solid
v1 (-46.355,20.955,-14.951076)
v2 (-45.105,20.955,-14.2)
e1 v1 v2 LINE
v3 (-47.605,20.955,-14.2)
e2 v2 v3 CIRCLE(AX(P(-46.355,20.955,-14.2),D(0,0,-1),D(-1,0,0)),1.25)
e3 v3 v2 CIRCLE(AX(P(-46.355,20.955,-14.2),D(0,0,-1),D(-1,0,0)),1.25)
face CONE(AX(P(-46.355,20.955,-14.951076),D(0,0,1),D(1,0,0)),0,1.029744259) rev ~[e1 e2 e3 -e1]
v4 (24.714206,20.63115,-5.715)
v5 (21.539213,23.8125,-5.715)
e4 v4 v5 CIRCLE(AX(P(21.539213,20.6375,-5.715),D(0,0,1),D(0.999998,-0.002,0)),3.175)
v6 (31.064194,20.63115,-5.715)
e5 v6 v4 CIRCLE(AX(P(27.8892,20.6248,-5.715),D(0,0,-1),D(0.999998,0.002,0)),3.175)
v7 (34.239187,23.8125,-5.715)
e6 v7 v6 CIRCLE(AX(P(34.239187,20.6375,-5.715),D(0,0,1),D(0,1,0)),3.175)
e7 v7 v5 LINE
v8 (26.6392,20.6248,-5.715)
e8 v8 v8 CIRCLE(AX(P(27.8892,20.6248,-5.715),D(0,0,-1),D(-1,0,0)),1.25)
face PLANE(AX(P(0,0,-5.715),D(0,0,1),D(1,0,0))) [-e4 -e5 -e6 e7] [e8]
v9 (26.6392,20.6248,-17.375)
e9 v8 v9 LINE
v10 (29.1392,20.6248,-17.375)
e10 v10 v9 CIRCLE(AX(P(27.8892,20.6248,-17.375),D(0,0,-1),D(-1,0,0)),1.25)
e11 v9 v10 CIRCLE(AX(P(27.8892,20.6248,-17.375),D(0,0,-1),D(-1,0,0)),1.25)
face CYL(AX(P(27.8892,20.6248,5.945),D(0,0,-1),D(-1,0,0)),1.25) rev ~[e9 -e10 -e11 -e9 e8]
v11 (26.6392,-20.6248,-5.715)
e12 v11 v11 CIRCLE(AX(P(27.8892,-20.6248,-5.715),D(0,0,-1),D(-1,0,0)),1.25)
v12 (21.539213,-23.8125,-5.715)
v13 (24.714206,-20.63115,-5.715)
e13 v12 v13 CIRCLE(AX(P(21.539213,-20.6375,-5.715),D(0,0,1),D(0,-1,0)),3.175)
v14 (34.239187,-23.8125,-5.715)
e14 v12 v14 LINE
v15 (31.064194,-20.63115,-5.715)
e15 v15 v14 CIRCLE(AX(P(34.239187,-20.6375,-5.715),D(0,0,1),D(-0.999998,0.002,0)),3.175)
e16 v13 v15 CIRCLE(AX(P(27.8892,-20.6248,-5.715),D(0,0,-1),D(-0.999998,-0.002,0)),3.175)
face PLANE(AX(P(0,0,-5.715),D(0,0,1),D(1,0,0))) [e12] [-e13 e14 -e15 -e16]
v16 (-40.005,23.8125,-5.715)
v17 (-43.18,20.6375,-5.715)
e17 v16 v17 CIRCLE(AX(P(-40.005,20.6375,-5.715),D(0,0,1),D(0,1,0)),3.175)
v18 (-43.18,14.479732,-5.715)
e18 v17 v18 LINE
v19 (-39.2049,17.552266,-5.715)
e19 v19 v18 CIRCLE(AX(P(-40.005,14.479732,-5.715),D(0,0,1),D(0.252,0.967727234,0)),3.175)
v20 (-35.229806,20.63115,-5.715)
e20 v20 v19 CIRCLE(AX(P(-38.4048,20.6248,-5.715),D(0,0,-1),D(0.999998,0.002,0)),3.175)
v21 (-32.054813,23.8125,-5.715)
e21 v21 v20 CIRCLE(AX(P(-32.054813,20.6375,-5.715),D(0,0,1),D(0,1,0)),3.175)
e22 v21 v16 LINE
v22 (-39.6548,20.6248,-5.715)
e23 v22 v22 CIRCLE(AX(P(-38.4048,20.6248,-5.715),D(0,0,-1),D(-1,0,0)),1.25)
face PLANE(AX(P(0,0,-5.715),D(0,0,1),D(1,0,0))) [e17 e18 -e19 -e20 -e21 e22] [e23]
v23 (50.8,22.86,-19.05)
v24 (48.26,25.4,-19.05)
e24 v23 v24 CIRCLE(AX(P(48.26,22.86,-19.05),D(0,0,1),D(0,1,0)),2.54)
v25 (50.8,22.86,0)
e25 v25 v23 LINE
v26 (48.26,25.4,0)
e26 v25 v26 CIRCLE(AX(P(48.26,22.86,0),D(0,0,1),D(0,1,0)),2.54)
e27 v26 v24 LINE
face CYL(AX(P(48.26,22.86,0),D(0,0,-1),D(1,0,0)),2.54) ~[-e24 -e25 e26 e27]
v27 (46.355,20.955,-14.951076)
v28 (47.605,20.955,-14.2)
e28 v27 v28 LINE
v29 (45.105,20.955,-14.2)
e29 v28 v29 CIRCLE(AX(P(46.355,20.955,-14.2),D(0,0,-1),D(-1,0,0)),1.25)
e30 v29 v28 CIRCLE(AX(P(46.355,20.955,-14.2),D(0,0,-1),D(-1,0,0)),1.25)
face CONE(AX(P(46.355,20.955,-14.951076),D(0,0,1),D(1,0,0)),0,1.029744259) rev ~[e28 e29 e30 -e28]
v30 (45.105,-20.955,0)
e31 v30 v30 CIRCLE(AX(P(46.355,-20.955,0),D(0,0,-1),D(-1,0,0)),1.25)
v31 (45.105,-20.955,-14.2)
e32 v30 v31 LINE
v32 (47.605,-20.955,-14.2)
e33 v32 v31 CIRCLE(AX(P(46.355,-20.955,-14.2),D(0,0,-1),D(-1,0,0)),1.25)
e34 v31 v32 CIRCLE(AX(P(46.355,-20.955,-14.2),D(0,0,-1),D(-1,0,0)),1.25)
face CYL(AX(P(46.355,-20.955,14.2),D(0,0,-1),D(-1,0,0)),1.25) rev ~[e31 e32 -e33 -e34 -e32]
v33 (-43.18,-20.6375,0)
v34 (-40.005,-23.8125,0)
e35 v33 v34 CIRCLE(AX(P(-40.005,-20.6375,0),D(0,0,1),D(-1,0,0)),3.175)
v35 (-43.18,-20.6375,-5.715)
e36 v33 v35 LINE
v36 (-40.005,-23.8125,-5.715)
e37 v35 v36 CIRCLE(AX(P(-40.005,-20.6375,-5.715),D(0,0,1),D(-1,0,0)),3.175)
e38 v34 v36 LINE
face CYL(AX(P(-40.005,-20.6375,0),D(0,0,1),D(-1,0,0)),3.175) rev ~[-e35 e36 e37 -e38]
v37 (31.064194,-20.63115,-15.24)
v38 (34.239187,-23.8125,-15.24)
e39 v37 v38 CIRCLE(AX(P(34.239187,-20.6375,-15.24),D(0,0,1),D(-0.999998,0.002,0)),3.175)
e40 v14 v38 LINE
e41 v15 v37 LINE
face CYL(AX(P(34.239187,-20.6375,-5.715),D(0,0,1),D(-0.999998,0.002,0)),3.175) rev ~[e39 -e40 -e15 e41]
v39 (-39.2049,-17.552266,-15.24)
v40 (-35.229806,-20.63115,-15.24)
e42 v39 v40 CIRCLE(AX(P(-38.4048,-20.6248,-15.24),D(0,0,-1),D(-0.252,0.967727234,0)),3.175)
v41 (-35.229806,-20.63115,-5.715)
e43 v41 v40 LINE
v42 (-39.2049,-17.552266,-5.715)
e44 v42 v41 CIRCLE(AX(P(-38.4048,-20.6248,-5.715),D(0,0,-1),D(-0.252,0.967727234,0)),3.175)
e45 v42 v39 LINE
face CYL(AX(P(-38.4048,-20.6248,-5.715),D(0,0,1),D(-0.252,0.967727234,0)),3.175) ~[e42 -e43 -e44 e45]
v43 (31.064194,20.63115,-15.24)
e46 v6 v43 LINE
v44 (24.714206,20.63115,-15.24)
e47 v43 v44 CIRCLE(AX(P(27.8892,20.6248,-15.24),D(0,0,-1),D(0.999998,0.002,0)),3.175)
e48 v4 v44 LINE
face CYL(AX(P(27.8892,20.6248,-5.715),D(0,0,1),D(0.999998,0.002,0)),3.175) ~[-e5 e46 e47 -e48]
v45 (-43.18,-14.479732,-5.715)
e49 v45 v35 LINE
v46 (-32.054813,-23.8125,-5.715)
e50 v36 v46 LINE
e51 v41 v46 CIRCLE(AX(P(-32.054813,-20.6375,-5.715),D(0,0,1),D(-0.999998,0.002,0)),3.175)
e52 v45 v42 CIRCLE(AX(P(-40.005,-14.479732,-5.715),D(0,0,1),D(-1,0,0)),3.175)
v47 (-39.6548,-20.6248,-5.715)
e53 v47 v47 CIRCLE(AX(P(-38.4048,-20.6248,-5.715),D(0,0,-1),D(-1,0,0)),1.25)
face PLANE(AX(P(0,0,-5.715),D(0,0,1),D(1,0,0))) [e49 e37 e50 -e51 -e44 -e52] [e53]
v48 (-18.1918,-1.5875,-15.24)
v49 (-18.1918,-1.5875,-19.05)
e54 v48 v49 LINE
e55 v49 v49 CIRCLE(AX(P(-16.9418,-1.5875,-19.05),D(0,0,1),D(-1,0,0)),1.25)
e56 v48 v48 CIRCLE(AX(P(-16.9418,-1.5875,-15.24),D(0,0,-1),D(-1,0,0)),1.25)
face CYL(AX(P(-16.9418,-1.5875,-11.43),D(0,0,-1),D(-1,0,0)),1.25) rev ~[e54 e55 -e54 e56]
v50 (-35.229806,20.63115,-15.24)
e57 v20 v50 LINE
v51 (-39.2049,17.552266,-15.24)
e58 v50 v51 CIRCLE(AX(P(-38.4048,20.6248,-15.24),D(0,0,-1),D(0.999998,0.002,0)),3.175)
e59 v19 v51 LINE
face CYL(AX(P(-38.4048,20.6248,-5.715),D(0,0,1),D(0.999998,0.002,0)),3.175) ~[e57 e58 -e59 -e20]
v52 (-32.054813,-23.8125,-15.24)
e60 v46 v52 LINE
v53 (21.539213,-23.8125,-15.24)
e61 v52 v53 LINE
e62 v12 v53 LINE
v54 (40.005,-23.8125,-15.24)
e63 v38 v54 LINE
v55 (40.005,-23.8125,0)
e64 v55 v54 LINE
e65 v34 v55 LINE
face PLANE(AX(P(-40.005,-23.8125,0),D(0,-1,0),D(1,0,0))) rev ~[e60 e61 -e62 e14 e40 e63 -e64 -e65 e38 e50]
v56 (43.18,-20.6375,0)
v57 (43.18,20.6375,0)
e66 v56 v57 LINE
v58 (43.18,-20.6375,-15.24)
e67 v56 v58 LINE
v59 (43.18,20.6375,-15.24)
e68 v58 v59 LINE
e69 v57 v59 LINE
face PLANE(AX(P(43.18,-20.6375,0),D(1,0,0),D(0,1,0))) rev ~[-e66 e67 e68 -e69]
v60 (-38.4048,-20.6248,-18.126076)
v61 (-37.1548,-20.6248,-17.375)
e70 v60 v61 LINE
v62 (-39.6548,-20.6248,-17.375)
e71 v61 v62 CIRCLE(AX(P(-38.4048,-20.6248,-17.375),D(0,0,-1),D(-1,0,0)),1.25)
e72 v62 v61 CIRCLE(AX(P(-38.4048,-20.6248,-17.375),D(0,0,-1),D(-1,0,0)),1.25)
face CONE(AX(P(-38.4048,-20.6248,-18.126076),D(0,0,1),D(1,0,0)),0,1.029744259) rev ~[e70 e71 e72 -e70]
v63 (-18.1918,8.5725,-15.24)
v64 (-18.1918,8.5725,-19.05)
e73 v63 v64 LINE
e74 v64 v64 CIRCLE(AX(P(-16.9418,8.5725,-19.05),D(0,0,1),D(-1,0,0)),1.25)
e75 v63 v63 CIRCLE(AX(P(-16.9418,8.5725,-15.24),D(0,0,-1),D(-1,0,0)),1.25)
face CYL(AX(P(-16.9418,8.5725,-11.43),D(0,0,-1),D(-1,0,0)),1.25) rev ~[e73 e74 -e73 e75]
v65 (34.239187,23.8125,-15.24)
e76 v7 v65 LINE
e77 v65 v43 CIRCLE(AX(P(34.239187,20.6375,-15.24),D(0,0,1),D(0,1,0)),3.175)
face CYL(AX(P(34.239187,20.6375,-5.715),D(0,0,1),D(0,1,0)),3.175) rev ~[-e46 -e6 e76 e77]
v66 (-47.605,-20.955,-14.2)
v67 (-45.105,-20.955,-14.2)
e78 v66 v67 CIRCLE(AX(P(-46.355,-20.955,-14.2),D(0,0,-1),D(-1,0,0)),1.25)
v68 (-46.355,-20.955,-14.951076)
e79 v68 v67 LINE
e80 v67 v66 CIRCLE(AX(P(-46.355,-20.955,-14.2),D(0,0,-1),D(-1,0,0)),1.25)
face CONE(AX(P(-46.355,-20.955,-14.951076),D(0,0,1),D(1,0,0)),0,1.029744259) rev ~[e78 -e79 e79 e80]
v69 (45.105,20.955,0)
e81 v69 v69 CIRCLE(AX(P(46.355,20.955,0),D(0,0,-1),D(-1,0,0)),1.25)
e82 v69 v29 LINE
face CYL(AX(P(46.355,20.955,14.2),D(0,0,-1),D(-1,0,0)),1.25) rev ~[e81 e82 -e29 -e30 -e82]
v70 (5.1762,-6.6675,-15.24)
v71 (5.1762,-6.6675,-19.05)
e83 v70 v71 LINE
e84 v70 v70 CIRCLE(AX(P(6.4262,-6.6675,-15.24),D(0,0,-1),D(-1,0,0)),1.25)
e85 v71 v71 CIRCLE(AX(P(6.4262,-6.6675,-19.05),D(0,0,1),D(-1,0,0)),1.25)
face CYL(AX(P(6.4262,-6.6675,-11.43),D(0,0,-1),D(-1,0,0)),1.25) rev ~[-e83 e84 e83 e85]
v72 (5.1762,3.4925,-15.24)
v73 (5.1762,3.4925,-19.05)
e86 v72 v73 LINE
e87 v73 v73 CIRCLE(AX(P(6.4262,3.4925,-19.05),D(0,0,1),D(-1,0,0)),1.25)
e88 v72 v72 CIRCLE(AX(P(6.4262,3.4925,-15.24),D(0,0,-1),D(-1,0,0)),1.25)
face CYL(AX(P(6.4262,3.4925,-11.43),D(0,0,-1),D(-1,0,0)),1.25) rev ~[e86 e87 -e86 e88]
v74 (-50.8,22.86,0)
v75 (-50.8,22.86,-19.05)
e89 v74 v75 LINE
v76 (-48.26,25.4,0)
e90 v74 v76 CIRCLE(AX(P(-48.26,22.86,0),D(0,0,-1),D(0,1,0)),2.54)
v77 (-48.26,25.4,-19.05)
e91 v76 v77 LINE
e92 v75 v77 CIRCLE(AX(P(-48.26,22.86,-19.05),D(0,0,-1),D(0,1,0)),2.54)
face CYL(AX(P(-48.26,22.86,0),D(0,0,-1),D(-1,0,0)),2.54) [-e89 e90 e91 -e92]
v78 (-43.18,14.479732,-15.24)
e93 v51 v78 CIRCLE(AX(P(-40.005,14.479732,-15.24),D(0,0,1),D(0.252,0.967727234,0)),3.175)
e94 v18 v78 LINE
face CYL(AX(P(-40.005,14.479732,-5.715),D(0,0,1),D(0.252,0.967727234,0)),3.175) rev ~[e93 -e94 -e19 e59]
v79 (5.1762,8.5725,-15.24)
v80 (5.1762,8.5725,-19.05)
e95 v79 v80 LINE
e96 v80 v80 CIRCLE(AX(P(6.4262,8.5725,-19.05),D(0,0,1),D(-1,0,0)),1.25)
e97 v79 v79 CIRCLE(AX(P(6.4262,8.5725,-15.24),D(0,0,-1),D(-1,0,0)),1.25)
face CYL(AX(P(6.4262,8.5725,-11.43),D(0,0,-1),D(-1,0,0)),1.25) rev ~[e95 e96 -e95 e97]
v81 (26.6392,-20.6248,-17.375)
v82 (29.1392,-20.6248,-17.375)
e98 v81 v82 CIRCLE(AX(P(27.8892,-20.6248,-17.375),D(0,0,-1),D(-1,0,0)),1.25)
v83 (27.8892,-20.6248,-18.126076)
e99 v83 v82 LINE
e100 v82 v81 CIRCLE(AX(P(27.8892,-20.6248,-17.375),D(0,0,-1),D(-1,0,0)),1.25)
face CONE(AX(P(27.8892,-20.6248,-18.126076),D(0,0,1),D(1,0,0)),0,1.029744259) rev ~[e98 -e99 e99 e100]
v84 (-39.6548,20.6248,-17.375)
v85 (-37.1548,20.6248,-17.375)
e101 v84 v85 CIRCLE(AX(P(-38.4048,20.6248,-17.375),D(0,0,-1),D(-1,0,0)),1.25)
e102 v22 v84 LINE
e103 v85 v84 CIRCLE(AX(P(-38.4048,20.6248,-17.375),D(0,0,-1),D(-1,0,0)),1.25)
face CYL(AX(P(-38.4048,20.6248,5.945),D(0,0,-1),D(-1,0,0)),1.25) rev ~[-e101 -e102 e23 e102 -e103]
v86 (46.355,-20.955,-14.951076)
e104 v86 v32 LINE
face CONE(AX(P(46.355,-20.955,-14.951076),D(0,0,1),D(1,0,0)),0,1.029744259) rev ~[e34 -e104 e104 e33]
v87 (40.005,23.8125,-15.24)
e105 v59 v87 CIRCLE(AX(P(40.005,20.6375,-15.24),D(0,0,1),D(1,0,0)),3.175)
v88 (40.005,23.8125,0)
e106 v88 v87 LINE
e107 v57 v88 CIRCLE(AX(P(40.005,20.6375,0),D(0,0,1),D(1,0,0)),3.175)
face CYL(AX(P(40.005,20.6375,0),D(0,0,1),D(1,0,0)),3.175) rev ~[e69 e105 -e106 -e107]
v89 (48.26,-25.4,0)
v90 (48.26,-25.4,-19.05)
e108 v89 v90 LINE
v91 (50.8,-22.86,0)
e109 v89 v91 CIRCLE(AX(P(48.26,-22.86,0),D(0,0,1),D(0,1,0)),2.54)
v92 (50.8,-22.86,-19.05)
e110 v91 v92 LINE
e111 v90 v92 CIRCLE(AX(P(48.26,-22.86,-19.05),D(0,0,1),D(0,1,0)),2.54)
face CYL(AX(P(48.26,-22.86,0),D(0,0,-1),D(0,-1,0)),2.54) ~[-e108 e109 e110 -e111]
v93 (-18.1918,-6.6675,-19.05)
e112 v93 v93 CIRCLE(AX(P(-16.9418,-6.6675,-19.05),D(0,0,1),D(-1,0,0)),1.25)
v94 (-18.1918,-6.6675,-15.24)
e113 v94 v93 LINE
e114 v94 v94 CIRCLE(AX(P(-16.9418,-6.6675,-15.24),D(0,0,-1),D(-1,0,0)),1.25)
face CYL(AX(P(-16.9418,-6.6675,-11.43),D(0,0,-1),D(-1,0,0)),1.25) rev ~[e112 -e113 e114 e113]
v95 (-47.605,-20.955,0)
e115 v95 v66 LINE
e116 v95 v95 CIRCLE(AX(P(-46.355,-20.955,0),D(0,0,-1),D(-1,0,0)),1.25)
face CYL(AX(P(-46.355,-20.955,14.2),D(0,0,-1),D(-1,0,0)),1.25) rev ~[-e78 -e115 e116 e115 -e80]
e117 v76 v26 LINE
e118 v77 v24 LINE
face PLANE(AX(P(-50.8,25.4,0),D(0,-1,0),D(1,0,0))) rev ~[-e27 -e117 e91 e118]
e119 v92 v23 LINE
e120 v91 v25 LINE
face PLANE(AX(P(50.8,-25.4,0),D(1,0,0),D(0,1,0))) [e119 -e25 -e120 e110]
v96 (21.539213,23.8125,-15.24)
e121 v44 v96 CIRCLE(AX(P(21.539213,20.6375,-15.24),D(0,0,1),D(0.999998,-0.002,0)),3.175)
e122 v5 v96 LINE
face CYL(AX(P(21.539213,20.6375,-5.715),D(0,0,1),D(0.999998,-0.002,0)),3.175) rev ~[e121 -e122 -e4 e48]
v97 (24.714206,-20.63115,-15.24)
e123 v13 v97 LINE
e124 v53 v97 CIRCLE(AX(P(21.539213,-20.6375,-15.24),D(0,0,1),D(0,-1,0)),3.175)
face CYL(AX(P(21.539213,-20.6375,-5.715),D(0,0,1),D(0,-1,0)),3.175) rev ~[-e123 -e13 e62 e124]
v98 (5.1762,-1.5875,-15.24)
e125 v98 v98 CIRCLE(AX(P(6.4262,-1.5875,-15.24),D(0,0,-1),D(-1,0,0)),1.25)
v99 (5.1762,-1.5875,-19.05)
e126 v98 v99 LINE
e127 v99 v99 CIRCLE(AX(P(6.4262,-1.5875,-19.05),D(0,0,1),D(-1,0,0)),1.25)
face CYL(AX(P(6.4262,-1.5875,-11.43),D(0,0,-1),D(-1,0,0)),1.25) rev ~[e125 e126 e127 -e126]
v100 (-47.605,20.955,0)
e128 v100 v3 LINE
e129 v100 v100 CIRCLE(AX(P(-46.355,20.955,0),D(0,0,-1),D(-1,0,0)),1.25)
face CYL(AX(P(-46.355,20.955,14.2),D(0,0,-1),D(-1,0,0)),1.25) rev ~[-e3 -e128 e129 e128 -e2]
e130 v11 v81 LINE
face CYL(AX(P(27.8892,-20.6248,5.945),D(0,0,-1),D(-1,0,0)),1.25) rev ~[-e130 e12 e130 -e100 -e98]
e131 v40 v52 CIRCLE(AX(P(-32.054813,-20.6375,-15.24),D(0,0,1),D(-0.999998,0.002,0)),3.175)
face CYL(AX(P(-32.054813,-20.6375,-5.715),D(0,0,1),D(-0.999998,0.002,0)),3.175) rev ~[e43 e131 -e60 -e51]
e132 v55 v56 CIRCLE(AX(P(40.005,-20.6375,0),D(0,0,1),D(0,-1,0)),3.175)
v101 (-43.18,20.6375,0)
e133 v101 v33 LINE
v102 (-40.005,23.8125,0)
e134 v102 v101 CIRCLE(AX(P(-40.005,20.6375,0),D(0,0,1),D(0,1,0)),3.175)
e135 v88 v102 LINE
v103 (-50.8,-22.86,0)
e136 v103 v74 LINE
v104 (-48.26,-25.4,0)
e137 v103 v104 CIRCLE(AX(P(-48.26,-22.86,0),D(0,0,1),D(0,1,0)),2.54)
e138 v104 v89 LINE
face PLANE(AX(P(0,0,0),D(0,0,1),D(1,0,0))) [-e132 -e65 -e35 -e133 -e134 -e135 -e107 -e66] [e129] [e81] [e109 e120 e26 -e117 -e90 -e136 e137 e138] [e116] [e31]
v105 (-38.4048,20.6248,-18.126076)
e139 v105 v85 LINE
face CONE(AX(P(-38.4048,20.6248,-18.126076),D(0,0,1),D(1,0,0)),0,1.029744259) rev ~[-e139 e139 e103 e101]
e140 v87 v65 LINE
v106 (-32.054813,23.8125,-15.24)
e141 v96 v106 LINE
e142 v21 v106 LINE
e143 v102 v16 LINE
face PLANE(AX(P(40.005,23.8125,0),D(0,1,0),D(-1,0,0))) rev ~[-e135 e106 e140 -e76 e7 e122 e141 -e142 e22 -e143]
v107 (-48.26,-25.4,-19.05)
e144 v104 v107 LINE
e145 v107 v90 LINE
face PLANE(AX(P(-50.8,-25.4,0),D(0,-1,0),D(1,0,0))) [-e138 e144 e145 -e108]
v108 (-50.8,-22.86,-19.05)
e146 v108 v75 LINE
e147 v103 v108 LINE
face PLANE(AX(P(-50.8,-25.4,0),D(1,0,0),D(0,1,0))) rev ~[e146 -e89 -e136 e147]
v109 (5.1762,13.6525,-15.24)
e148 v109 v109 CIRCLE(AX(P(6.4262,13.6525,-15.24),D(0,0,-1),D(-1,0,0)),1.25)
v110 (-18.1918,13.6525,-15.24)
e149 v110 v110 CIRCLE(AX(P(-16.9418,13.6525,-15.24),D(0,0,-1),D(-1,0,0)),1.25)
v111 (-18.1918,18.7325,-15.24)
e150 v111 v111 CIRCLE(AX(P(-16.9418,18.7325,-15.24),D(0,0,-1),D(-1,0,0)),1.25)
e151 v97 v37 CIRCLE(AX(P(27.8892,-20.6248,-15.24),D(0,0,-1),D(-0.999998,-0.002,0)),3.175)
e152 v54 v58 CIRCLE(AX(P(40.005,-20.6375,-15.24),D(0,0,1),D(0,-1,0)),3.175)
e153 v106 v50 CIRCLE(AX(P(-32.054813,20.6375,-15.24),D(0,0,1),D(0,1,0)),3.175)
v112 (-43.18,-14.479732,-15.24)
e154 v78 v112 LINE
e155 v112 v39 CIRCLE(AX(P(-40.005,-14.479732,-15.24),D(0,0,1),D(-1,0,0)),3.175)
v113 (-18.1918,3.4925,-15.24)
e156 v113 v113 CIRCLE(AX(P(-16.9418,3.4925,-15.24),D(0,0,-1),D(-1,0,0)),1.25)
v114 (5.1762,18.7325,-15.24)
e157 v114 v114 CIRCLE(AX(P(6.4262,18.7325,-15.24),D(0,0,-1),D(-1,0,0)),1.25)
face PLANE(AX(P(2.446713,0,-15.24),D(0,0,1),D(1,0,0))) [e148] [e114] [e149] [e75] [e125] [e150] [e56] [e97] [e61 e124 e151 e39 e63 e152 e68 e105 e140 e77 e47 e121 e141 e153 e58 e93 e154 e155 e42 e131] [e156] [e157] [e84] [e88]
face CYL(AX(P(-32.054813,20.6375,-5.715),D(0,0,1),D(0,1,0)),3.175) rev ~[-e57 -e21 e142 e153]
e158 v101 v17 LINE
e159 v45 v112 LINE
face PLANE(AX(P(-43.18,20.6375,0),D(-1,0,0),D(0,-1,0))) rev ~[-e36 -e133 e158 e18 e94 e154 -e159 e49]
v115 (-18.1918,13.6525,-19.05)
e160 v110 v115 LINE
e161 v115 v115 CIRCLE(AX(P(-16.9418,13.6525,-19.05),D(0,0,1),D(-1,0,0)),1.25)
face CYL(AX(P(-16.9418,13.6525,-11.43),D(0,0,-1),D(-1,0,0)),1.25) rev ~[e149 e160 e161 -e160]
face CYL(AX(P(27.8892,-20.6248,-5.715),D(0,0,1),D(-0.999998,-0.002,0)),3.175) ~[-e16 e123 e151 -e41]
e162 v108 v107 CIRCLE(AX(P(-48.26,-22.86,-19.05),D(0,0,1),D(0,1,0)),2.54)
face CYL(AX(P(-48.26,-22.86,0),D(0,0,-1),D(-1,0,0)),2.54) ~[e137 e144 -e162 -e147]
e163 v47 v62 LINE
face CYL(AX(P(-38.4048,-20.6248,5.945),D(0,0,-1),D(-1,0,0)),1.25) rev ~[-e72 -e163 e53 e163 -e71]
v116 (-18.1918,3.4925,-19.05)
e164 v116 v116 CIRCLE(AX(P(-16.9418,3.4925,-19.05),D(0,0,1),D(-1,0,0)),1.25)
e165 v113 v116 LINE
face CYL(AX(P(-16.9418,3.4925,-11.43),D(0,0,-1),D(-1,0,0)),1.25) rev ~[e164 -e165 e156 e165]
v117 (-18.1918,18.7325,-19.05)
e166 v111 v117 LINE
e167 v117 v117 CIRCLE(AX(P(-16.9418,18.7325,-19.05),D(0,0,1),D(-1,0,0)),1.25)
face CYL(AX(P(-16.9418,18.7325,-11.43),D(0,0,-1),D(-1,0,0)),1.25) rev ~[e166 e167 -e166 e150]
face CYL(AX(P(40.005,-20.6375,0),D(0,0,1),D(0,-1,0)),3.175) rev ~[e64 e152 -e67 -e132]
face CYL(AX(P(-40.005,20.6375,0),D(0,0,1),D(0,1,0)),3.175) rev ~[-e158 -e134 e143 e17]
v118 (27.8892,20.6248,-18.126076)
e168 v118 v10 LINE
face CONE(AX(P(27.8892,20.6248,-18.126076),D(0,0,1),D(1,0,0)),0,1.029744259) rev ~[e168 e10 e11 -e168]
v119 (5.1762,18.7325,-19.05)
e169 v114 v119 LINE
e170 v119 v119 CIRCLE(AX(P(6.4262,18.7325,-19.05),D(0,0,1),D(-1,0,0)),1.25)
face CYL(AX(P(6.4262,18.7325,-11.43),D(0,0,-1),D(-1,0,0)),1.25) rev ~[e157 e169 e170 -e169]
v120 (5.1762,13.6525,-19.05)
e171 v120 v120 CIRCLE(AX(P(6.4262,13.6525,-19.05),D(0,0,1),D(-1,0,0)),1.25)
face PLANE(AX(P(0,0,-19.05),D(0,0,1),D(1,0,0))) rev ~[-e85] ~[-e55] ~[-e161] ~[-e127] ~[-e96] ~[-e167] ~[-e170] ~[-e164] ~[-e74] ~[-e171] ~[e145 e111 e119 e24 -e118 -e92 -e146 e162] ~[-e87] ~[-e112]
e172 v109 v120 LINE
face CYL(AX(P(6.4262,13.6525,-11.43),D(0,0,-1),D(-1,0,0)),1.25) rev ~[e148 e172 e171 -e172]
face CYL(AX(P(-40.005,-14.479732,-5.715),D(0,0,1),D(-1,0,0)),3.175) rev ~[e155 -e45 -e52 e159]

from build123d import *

# Parameters (mm, degrees)
F0_W      = 101.6
F0_H      = 50.8
F1_DEPTH  = 19.05
F2_R      = 2.54
F4_D      = 2.5
F4_DEPTH  = 14.2
F4_TIP    = 0.7510757738
F6_DEPTH  = 5.715
F8_D      = 2.5
F8_DEPTH  = 11.66
F8_TIP    = 0.7510757738
F10_DEPTH = 9.525
F12_D     = 2.5
F12_DEPTH = 3.81
F12_TIP   = 0.7510757738


with BuildPart() as f1:
    # F0 (on Top) → F1 (new body)
    with BuildSketch(Plane.XY):
        Rectangle(F0_W, F0_H)
    extrude(amount=-F1_DEPTH)

    # F2
    f2_edges = [f1.edges().sort_by_distance(p)[0] for p in [
        (-50.8, -25.4, -9.525),
        (50.8, -25.4, -9.525),
        (50.8, 25.4, -9.525),
        (-50.8, 25.4, -9.525),
    ]]
    fillet(f2_edges, radius=F2_R)

    # F4
    with Locations(Plane.XY):
        with Locations((-46.355, 20.955), (46.355, 20.955), (46.355, -20.955), (-46.355, -20.955)):
            Hole(F4_D / 2, depth=F4_DEPTH)
            with Locations((0, 0, -(F4_DEPTH + F4_TIP / 2))):  # 118° drill point
                Cone(0, F4_D / 2, F4_TIP, mode=Mode.SUBTRACT)

    # F5 (on face) → F6 (cut)
    with BuildSketch(Plane.XY):
        with BuildLine():
            Line((-40.005, -23.8125), (40.005, -23.8125))
            ThreePointArc((40.005, -23.8125), (42.2500640303, -22.8825640303), (43.18, -20.6375))
            Line((43.18, -20.6375), (43.18, 20.6375))
            ThreePointArc((43.18, 20.6375), (42.2500640303, 22.8825640303), (40.005, 23.8125))
            Line((40.005, 23.8125), (-40.005, 23.8125))
            ThreePointArc((-40.005, 23.8125), (-42.2500640303, 22.8825640303), (-43.18, 20.6375))
            Line((-43.18, 20.6375), (-43.18, -20.6375))
            ThreePointArc((-43.18, -20.6375), (-42.2500640303, -22.8825640303), (-40.005, -23.8125))
        make_face()
    extrude(amount=-F6_DEPTH, mode=Mode.SUBTRACT)

    # F8
    with Locations(Plane.XY.offset(-5.715)):
        with Locations((-38.4048, 20.6248), (27.8892, 20.6248), (27.8892, -20.6248), (-38.4048, -20.6248)):
            Hole(F8_D / 2, depth=F8_DEPTH)
            with Locations((0, 0, -(F8_DEPTH + F8_TIP / 2))):  # 118° drill point
                Cone(0, F8_D / 2, F8_TIP, mode=Mode.SUBTRACT)

    # F9 (on face) → F10 (cut)
    with BuildSketch(Plane.XY.offset(-5.715)):
        with BuildLine():
            Line((34.2391873, -23.8125), (40.005, -23.8125))
            ThreePointArc((40.005, -23.8125), (42.2500640303, -22.8825640303), (43.18, -20.6375))
            Line((43.18, -20.6375), (43.18, 20.6375))
            ThreePointArc((43.18, 20.6375), (42.2500640303, 22.8825640303), (40.005, 23.8125))
            Line((40.005, 23.8125), (34.2391873, 23.8125))
            ThreePointArc((34.2391873, 23.8125), (31.9918793271, 22.8803178426), (31.06419365, 20.63115))
            ThreePointArc((31.06419365, 20.63115), (27.8892, 17.4498), (24.71420635, 20.63115))
            ThreePointArc((24.71420635, 20.63115), (23.7865206729, 22.8803178426), (21.5392127, 23.8125))
            Line((21.5392127, 23.8125), (-32.0548127, 23.8125))
            ThreePointArc((-32.0548127, 23.8125), (-34.3021206729, 22.8803178426), (-35.22980635, 20.63115))
            ThreePointArc((-35.22980635, 20.63115), (-36.4606005283, 18.1146778089), (-39.2049, 17.5522660311))
            ThreePointArc((-39.2049, 17.5522660311), (-41.9466883761, 16.9917971987), (-43.18, 14.4797320622))
            Line((-43.18, 14.4797320622), (-43.18, -14.4797320622))
            ThreePointArc((-43.18, -14.4797320622), (-41.9466883761, -16.9917971987), (-39.2049, -17.5522660311))
            ThreePointArc((-39.2049, -17.5522660311), (-36.4606005283, -18.1146778089), (-35.22980635, -20.63115))
            ThreePointArc((-35.22980635, -20.63115), (-34.3021206729, -22.8803178426), (-32.0548127, -23.8125))
            Line((-32.0548127, -23.8125), (21.5392127, -23.8125))
            ThreePointArc((21.5392127, -23.8125), (23.7865206729, -22.8803178426), (24.71420635, -20.63115))
            ThreePointArc((24.71420635, -20.63115), (27.8892, -17.4498), (31.06419365, -20.63115))
            ThreePointArc((31.06419365, -20.63115), (31.9918793271, -22.8803178426), (34.2391873, -23.8125))
        make_face()
    extrude(amount=-F10_DEPTH, mode=Mode.SUBTRACT)

    # F12
    with Locations(Plane.XY.offset(-15.24)):
        with Locations((-16.9418, 18.7325), (-16.9418, 13.6525), (-16.9418, 8.5725), (-16.9418, 3.4925), (-16.9418, -1.5875), (-16.9418, -6.6675), (6.4262, -6.6675), (6.4262, -1.5875), (6.4262, 3.4925), (6.4262, 8.5725), (6.4262, 13.6525), (6.4262, 18.7325)):
            Hole(F12_D / 2, depth=F12_DEPTH)
            with Locations((0, 0, -(F12_DEPTH + F12_TIP / 2))):  # 118° drill point
                Cone(0, F12_D / 2, F12_TIP, mode=Mode.SUBTRACT)


solid = f1.part
